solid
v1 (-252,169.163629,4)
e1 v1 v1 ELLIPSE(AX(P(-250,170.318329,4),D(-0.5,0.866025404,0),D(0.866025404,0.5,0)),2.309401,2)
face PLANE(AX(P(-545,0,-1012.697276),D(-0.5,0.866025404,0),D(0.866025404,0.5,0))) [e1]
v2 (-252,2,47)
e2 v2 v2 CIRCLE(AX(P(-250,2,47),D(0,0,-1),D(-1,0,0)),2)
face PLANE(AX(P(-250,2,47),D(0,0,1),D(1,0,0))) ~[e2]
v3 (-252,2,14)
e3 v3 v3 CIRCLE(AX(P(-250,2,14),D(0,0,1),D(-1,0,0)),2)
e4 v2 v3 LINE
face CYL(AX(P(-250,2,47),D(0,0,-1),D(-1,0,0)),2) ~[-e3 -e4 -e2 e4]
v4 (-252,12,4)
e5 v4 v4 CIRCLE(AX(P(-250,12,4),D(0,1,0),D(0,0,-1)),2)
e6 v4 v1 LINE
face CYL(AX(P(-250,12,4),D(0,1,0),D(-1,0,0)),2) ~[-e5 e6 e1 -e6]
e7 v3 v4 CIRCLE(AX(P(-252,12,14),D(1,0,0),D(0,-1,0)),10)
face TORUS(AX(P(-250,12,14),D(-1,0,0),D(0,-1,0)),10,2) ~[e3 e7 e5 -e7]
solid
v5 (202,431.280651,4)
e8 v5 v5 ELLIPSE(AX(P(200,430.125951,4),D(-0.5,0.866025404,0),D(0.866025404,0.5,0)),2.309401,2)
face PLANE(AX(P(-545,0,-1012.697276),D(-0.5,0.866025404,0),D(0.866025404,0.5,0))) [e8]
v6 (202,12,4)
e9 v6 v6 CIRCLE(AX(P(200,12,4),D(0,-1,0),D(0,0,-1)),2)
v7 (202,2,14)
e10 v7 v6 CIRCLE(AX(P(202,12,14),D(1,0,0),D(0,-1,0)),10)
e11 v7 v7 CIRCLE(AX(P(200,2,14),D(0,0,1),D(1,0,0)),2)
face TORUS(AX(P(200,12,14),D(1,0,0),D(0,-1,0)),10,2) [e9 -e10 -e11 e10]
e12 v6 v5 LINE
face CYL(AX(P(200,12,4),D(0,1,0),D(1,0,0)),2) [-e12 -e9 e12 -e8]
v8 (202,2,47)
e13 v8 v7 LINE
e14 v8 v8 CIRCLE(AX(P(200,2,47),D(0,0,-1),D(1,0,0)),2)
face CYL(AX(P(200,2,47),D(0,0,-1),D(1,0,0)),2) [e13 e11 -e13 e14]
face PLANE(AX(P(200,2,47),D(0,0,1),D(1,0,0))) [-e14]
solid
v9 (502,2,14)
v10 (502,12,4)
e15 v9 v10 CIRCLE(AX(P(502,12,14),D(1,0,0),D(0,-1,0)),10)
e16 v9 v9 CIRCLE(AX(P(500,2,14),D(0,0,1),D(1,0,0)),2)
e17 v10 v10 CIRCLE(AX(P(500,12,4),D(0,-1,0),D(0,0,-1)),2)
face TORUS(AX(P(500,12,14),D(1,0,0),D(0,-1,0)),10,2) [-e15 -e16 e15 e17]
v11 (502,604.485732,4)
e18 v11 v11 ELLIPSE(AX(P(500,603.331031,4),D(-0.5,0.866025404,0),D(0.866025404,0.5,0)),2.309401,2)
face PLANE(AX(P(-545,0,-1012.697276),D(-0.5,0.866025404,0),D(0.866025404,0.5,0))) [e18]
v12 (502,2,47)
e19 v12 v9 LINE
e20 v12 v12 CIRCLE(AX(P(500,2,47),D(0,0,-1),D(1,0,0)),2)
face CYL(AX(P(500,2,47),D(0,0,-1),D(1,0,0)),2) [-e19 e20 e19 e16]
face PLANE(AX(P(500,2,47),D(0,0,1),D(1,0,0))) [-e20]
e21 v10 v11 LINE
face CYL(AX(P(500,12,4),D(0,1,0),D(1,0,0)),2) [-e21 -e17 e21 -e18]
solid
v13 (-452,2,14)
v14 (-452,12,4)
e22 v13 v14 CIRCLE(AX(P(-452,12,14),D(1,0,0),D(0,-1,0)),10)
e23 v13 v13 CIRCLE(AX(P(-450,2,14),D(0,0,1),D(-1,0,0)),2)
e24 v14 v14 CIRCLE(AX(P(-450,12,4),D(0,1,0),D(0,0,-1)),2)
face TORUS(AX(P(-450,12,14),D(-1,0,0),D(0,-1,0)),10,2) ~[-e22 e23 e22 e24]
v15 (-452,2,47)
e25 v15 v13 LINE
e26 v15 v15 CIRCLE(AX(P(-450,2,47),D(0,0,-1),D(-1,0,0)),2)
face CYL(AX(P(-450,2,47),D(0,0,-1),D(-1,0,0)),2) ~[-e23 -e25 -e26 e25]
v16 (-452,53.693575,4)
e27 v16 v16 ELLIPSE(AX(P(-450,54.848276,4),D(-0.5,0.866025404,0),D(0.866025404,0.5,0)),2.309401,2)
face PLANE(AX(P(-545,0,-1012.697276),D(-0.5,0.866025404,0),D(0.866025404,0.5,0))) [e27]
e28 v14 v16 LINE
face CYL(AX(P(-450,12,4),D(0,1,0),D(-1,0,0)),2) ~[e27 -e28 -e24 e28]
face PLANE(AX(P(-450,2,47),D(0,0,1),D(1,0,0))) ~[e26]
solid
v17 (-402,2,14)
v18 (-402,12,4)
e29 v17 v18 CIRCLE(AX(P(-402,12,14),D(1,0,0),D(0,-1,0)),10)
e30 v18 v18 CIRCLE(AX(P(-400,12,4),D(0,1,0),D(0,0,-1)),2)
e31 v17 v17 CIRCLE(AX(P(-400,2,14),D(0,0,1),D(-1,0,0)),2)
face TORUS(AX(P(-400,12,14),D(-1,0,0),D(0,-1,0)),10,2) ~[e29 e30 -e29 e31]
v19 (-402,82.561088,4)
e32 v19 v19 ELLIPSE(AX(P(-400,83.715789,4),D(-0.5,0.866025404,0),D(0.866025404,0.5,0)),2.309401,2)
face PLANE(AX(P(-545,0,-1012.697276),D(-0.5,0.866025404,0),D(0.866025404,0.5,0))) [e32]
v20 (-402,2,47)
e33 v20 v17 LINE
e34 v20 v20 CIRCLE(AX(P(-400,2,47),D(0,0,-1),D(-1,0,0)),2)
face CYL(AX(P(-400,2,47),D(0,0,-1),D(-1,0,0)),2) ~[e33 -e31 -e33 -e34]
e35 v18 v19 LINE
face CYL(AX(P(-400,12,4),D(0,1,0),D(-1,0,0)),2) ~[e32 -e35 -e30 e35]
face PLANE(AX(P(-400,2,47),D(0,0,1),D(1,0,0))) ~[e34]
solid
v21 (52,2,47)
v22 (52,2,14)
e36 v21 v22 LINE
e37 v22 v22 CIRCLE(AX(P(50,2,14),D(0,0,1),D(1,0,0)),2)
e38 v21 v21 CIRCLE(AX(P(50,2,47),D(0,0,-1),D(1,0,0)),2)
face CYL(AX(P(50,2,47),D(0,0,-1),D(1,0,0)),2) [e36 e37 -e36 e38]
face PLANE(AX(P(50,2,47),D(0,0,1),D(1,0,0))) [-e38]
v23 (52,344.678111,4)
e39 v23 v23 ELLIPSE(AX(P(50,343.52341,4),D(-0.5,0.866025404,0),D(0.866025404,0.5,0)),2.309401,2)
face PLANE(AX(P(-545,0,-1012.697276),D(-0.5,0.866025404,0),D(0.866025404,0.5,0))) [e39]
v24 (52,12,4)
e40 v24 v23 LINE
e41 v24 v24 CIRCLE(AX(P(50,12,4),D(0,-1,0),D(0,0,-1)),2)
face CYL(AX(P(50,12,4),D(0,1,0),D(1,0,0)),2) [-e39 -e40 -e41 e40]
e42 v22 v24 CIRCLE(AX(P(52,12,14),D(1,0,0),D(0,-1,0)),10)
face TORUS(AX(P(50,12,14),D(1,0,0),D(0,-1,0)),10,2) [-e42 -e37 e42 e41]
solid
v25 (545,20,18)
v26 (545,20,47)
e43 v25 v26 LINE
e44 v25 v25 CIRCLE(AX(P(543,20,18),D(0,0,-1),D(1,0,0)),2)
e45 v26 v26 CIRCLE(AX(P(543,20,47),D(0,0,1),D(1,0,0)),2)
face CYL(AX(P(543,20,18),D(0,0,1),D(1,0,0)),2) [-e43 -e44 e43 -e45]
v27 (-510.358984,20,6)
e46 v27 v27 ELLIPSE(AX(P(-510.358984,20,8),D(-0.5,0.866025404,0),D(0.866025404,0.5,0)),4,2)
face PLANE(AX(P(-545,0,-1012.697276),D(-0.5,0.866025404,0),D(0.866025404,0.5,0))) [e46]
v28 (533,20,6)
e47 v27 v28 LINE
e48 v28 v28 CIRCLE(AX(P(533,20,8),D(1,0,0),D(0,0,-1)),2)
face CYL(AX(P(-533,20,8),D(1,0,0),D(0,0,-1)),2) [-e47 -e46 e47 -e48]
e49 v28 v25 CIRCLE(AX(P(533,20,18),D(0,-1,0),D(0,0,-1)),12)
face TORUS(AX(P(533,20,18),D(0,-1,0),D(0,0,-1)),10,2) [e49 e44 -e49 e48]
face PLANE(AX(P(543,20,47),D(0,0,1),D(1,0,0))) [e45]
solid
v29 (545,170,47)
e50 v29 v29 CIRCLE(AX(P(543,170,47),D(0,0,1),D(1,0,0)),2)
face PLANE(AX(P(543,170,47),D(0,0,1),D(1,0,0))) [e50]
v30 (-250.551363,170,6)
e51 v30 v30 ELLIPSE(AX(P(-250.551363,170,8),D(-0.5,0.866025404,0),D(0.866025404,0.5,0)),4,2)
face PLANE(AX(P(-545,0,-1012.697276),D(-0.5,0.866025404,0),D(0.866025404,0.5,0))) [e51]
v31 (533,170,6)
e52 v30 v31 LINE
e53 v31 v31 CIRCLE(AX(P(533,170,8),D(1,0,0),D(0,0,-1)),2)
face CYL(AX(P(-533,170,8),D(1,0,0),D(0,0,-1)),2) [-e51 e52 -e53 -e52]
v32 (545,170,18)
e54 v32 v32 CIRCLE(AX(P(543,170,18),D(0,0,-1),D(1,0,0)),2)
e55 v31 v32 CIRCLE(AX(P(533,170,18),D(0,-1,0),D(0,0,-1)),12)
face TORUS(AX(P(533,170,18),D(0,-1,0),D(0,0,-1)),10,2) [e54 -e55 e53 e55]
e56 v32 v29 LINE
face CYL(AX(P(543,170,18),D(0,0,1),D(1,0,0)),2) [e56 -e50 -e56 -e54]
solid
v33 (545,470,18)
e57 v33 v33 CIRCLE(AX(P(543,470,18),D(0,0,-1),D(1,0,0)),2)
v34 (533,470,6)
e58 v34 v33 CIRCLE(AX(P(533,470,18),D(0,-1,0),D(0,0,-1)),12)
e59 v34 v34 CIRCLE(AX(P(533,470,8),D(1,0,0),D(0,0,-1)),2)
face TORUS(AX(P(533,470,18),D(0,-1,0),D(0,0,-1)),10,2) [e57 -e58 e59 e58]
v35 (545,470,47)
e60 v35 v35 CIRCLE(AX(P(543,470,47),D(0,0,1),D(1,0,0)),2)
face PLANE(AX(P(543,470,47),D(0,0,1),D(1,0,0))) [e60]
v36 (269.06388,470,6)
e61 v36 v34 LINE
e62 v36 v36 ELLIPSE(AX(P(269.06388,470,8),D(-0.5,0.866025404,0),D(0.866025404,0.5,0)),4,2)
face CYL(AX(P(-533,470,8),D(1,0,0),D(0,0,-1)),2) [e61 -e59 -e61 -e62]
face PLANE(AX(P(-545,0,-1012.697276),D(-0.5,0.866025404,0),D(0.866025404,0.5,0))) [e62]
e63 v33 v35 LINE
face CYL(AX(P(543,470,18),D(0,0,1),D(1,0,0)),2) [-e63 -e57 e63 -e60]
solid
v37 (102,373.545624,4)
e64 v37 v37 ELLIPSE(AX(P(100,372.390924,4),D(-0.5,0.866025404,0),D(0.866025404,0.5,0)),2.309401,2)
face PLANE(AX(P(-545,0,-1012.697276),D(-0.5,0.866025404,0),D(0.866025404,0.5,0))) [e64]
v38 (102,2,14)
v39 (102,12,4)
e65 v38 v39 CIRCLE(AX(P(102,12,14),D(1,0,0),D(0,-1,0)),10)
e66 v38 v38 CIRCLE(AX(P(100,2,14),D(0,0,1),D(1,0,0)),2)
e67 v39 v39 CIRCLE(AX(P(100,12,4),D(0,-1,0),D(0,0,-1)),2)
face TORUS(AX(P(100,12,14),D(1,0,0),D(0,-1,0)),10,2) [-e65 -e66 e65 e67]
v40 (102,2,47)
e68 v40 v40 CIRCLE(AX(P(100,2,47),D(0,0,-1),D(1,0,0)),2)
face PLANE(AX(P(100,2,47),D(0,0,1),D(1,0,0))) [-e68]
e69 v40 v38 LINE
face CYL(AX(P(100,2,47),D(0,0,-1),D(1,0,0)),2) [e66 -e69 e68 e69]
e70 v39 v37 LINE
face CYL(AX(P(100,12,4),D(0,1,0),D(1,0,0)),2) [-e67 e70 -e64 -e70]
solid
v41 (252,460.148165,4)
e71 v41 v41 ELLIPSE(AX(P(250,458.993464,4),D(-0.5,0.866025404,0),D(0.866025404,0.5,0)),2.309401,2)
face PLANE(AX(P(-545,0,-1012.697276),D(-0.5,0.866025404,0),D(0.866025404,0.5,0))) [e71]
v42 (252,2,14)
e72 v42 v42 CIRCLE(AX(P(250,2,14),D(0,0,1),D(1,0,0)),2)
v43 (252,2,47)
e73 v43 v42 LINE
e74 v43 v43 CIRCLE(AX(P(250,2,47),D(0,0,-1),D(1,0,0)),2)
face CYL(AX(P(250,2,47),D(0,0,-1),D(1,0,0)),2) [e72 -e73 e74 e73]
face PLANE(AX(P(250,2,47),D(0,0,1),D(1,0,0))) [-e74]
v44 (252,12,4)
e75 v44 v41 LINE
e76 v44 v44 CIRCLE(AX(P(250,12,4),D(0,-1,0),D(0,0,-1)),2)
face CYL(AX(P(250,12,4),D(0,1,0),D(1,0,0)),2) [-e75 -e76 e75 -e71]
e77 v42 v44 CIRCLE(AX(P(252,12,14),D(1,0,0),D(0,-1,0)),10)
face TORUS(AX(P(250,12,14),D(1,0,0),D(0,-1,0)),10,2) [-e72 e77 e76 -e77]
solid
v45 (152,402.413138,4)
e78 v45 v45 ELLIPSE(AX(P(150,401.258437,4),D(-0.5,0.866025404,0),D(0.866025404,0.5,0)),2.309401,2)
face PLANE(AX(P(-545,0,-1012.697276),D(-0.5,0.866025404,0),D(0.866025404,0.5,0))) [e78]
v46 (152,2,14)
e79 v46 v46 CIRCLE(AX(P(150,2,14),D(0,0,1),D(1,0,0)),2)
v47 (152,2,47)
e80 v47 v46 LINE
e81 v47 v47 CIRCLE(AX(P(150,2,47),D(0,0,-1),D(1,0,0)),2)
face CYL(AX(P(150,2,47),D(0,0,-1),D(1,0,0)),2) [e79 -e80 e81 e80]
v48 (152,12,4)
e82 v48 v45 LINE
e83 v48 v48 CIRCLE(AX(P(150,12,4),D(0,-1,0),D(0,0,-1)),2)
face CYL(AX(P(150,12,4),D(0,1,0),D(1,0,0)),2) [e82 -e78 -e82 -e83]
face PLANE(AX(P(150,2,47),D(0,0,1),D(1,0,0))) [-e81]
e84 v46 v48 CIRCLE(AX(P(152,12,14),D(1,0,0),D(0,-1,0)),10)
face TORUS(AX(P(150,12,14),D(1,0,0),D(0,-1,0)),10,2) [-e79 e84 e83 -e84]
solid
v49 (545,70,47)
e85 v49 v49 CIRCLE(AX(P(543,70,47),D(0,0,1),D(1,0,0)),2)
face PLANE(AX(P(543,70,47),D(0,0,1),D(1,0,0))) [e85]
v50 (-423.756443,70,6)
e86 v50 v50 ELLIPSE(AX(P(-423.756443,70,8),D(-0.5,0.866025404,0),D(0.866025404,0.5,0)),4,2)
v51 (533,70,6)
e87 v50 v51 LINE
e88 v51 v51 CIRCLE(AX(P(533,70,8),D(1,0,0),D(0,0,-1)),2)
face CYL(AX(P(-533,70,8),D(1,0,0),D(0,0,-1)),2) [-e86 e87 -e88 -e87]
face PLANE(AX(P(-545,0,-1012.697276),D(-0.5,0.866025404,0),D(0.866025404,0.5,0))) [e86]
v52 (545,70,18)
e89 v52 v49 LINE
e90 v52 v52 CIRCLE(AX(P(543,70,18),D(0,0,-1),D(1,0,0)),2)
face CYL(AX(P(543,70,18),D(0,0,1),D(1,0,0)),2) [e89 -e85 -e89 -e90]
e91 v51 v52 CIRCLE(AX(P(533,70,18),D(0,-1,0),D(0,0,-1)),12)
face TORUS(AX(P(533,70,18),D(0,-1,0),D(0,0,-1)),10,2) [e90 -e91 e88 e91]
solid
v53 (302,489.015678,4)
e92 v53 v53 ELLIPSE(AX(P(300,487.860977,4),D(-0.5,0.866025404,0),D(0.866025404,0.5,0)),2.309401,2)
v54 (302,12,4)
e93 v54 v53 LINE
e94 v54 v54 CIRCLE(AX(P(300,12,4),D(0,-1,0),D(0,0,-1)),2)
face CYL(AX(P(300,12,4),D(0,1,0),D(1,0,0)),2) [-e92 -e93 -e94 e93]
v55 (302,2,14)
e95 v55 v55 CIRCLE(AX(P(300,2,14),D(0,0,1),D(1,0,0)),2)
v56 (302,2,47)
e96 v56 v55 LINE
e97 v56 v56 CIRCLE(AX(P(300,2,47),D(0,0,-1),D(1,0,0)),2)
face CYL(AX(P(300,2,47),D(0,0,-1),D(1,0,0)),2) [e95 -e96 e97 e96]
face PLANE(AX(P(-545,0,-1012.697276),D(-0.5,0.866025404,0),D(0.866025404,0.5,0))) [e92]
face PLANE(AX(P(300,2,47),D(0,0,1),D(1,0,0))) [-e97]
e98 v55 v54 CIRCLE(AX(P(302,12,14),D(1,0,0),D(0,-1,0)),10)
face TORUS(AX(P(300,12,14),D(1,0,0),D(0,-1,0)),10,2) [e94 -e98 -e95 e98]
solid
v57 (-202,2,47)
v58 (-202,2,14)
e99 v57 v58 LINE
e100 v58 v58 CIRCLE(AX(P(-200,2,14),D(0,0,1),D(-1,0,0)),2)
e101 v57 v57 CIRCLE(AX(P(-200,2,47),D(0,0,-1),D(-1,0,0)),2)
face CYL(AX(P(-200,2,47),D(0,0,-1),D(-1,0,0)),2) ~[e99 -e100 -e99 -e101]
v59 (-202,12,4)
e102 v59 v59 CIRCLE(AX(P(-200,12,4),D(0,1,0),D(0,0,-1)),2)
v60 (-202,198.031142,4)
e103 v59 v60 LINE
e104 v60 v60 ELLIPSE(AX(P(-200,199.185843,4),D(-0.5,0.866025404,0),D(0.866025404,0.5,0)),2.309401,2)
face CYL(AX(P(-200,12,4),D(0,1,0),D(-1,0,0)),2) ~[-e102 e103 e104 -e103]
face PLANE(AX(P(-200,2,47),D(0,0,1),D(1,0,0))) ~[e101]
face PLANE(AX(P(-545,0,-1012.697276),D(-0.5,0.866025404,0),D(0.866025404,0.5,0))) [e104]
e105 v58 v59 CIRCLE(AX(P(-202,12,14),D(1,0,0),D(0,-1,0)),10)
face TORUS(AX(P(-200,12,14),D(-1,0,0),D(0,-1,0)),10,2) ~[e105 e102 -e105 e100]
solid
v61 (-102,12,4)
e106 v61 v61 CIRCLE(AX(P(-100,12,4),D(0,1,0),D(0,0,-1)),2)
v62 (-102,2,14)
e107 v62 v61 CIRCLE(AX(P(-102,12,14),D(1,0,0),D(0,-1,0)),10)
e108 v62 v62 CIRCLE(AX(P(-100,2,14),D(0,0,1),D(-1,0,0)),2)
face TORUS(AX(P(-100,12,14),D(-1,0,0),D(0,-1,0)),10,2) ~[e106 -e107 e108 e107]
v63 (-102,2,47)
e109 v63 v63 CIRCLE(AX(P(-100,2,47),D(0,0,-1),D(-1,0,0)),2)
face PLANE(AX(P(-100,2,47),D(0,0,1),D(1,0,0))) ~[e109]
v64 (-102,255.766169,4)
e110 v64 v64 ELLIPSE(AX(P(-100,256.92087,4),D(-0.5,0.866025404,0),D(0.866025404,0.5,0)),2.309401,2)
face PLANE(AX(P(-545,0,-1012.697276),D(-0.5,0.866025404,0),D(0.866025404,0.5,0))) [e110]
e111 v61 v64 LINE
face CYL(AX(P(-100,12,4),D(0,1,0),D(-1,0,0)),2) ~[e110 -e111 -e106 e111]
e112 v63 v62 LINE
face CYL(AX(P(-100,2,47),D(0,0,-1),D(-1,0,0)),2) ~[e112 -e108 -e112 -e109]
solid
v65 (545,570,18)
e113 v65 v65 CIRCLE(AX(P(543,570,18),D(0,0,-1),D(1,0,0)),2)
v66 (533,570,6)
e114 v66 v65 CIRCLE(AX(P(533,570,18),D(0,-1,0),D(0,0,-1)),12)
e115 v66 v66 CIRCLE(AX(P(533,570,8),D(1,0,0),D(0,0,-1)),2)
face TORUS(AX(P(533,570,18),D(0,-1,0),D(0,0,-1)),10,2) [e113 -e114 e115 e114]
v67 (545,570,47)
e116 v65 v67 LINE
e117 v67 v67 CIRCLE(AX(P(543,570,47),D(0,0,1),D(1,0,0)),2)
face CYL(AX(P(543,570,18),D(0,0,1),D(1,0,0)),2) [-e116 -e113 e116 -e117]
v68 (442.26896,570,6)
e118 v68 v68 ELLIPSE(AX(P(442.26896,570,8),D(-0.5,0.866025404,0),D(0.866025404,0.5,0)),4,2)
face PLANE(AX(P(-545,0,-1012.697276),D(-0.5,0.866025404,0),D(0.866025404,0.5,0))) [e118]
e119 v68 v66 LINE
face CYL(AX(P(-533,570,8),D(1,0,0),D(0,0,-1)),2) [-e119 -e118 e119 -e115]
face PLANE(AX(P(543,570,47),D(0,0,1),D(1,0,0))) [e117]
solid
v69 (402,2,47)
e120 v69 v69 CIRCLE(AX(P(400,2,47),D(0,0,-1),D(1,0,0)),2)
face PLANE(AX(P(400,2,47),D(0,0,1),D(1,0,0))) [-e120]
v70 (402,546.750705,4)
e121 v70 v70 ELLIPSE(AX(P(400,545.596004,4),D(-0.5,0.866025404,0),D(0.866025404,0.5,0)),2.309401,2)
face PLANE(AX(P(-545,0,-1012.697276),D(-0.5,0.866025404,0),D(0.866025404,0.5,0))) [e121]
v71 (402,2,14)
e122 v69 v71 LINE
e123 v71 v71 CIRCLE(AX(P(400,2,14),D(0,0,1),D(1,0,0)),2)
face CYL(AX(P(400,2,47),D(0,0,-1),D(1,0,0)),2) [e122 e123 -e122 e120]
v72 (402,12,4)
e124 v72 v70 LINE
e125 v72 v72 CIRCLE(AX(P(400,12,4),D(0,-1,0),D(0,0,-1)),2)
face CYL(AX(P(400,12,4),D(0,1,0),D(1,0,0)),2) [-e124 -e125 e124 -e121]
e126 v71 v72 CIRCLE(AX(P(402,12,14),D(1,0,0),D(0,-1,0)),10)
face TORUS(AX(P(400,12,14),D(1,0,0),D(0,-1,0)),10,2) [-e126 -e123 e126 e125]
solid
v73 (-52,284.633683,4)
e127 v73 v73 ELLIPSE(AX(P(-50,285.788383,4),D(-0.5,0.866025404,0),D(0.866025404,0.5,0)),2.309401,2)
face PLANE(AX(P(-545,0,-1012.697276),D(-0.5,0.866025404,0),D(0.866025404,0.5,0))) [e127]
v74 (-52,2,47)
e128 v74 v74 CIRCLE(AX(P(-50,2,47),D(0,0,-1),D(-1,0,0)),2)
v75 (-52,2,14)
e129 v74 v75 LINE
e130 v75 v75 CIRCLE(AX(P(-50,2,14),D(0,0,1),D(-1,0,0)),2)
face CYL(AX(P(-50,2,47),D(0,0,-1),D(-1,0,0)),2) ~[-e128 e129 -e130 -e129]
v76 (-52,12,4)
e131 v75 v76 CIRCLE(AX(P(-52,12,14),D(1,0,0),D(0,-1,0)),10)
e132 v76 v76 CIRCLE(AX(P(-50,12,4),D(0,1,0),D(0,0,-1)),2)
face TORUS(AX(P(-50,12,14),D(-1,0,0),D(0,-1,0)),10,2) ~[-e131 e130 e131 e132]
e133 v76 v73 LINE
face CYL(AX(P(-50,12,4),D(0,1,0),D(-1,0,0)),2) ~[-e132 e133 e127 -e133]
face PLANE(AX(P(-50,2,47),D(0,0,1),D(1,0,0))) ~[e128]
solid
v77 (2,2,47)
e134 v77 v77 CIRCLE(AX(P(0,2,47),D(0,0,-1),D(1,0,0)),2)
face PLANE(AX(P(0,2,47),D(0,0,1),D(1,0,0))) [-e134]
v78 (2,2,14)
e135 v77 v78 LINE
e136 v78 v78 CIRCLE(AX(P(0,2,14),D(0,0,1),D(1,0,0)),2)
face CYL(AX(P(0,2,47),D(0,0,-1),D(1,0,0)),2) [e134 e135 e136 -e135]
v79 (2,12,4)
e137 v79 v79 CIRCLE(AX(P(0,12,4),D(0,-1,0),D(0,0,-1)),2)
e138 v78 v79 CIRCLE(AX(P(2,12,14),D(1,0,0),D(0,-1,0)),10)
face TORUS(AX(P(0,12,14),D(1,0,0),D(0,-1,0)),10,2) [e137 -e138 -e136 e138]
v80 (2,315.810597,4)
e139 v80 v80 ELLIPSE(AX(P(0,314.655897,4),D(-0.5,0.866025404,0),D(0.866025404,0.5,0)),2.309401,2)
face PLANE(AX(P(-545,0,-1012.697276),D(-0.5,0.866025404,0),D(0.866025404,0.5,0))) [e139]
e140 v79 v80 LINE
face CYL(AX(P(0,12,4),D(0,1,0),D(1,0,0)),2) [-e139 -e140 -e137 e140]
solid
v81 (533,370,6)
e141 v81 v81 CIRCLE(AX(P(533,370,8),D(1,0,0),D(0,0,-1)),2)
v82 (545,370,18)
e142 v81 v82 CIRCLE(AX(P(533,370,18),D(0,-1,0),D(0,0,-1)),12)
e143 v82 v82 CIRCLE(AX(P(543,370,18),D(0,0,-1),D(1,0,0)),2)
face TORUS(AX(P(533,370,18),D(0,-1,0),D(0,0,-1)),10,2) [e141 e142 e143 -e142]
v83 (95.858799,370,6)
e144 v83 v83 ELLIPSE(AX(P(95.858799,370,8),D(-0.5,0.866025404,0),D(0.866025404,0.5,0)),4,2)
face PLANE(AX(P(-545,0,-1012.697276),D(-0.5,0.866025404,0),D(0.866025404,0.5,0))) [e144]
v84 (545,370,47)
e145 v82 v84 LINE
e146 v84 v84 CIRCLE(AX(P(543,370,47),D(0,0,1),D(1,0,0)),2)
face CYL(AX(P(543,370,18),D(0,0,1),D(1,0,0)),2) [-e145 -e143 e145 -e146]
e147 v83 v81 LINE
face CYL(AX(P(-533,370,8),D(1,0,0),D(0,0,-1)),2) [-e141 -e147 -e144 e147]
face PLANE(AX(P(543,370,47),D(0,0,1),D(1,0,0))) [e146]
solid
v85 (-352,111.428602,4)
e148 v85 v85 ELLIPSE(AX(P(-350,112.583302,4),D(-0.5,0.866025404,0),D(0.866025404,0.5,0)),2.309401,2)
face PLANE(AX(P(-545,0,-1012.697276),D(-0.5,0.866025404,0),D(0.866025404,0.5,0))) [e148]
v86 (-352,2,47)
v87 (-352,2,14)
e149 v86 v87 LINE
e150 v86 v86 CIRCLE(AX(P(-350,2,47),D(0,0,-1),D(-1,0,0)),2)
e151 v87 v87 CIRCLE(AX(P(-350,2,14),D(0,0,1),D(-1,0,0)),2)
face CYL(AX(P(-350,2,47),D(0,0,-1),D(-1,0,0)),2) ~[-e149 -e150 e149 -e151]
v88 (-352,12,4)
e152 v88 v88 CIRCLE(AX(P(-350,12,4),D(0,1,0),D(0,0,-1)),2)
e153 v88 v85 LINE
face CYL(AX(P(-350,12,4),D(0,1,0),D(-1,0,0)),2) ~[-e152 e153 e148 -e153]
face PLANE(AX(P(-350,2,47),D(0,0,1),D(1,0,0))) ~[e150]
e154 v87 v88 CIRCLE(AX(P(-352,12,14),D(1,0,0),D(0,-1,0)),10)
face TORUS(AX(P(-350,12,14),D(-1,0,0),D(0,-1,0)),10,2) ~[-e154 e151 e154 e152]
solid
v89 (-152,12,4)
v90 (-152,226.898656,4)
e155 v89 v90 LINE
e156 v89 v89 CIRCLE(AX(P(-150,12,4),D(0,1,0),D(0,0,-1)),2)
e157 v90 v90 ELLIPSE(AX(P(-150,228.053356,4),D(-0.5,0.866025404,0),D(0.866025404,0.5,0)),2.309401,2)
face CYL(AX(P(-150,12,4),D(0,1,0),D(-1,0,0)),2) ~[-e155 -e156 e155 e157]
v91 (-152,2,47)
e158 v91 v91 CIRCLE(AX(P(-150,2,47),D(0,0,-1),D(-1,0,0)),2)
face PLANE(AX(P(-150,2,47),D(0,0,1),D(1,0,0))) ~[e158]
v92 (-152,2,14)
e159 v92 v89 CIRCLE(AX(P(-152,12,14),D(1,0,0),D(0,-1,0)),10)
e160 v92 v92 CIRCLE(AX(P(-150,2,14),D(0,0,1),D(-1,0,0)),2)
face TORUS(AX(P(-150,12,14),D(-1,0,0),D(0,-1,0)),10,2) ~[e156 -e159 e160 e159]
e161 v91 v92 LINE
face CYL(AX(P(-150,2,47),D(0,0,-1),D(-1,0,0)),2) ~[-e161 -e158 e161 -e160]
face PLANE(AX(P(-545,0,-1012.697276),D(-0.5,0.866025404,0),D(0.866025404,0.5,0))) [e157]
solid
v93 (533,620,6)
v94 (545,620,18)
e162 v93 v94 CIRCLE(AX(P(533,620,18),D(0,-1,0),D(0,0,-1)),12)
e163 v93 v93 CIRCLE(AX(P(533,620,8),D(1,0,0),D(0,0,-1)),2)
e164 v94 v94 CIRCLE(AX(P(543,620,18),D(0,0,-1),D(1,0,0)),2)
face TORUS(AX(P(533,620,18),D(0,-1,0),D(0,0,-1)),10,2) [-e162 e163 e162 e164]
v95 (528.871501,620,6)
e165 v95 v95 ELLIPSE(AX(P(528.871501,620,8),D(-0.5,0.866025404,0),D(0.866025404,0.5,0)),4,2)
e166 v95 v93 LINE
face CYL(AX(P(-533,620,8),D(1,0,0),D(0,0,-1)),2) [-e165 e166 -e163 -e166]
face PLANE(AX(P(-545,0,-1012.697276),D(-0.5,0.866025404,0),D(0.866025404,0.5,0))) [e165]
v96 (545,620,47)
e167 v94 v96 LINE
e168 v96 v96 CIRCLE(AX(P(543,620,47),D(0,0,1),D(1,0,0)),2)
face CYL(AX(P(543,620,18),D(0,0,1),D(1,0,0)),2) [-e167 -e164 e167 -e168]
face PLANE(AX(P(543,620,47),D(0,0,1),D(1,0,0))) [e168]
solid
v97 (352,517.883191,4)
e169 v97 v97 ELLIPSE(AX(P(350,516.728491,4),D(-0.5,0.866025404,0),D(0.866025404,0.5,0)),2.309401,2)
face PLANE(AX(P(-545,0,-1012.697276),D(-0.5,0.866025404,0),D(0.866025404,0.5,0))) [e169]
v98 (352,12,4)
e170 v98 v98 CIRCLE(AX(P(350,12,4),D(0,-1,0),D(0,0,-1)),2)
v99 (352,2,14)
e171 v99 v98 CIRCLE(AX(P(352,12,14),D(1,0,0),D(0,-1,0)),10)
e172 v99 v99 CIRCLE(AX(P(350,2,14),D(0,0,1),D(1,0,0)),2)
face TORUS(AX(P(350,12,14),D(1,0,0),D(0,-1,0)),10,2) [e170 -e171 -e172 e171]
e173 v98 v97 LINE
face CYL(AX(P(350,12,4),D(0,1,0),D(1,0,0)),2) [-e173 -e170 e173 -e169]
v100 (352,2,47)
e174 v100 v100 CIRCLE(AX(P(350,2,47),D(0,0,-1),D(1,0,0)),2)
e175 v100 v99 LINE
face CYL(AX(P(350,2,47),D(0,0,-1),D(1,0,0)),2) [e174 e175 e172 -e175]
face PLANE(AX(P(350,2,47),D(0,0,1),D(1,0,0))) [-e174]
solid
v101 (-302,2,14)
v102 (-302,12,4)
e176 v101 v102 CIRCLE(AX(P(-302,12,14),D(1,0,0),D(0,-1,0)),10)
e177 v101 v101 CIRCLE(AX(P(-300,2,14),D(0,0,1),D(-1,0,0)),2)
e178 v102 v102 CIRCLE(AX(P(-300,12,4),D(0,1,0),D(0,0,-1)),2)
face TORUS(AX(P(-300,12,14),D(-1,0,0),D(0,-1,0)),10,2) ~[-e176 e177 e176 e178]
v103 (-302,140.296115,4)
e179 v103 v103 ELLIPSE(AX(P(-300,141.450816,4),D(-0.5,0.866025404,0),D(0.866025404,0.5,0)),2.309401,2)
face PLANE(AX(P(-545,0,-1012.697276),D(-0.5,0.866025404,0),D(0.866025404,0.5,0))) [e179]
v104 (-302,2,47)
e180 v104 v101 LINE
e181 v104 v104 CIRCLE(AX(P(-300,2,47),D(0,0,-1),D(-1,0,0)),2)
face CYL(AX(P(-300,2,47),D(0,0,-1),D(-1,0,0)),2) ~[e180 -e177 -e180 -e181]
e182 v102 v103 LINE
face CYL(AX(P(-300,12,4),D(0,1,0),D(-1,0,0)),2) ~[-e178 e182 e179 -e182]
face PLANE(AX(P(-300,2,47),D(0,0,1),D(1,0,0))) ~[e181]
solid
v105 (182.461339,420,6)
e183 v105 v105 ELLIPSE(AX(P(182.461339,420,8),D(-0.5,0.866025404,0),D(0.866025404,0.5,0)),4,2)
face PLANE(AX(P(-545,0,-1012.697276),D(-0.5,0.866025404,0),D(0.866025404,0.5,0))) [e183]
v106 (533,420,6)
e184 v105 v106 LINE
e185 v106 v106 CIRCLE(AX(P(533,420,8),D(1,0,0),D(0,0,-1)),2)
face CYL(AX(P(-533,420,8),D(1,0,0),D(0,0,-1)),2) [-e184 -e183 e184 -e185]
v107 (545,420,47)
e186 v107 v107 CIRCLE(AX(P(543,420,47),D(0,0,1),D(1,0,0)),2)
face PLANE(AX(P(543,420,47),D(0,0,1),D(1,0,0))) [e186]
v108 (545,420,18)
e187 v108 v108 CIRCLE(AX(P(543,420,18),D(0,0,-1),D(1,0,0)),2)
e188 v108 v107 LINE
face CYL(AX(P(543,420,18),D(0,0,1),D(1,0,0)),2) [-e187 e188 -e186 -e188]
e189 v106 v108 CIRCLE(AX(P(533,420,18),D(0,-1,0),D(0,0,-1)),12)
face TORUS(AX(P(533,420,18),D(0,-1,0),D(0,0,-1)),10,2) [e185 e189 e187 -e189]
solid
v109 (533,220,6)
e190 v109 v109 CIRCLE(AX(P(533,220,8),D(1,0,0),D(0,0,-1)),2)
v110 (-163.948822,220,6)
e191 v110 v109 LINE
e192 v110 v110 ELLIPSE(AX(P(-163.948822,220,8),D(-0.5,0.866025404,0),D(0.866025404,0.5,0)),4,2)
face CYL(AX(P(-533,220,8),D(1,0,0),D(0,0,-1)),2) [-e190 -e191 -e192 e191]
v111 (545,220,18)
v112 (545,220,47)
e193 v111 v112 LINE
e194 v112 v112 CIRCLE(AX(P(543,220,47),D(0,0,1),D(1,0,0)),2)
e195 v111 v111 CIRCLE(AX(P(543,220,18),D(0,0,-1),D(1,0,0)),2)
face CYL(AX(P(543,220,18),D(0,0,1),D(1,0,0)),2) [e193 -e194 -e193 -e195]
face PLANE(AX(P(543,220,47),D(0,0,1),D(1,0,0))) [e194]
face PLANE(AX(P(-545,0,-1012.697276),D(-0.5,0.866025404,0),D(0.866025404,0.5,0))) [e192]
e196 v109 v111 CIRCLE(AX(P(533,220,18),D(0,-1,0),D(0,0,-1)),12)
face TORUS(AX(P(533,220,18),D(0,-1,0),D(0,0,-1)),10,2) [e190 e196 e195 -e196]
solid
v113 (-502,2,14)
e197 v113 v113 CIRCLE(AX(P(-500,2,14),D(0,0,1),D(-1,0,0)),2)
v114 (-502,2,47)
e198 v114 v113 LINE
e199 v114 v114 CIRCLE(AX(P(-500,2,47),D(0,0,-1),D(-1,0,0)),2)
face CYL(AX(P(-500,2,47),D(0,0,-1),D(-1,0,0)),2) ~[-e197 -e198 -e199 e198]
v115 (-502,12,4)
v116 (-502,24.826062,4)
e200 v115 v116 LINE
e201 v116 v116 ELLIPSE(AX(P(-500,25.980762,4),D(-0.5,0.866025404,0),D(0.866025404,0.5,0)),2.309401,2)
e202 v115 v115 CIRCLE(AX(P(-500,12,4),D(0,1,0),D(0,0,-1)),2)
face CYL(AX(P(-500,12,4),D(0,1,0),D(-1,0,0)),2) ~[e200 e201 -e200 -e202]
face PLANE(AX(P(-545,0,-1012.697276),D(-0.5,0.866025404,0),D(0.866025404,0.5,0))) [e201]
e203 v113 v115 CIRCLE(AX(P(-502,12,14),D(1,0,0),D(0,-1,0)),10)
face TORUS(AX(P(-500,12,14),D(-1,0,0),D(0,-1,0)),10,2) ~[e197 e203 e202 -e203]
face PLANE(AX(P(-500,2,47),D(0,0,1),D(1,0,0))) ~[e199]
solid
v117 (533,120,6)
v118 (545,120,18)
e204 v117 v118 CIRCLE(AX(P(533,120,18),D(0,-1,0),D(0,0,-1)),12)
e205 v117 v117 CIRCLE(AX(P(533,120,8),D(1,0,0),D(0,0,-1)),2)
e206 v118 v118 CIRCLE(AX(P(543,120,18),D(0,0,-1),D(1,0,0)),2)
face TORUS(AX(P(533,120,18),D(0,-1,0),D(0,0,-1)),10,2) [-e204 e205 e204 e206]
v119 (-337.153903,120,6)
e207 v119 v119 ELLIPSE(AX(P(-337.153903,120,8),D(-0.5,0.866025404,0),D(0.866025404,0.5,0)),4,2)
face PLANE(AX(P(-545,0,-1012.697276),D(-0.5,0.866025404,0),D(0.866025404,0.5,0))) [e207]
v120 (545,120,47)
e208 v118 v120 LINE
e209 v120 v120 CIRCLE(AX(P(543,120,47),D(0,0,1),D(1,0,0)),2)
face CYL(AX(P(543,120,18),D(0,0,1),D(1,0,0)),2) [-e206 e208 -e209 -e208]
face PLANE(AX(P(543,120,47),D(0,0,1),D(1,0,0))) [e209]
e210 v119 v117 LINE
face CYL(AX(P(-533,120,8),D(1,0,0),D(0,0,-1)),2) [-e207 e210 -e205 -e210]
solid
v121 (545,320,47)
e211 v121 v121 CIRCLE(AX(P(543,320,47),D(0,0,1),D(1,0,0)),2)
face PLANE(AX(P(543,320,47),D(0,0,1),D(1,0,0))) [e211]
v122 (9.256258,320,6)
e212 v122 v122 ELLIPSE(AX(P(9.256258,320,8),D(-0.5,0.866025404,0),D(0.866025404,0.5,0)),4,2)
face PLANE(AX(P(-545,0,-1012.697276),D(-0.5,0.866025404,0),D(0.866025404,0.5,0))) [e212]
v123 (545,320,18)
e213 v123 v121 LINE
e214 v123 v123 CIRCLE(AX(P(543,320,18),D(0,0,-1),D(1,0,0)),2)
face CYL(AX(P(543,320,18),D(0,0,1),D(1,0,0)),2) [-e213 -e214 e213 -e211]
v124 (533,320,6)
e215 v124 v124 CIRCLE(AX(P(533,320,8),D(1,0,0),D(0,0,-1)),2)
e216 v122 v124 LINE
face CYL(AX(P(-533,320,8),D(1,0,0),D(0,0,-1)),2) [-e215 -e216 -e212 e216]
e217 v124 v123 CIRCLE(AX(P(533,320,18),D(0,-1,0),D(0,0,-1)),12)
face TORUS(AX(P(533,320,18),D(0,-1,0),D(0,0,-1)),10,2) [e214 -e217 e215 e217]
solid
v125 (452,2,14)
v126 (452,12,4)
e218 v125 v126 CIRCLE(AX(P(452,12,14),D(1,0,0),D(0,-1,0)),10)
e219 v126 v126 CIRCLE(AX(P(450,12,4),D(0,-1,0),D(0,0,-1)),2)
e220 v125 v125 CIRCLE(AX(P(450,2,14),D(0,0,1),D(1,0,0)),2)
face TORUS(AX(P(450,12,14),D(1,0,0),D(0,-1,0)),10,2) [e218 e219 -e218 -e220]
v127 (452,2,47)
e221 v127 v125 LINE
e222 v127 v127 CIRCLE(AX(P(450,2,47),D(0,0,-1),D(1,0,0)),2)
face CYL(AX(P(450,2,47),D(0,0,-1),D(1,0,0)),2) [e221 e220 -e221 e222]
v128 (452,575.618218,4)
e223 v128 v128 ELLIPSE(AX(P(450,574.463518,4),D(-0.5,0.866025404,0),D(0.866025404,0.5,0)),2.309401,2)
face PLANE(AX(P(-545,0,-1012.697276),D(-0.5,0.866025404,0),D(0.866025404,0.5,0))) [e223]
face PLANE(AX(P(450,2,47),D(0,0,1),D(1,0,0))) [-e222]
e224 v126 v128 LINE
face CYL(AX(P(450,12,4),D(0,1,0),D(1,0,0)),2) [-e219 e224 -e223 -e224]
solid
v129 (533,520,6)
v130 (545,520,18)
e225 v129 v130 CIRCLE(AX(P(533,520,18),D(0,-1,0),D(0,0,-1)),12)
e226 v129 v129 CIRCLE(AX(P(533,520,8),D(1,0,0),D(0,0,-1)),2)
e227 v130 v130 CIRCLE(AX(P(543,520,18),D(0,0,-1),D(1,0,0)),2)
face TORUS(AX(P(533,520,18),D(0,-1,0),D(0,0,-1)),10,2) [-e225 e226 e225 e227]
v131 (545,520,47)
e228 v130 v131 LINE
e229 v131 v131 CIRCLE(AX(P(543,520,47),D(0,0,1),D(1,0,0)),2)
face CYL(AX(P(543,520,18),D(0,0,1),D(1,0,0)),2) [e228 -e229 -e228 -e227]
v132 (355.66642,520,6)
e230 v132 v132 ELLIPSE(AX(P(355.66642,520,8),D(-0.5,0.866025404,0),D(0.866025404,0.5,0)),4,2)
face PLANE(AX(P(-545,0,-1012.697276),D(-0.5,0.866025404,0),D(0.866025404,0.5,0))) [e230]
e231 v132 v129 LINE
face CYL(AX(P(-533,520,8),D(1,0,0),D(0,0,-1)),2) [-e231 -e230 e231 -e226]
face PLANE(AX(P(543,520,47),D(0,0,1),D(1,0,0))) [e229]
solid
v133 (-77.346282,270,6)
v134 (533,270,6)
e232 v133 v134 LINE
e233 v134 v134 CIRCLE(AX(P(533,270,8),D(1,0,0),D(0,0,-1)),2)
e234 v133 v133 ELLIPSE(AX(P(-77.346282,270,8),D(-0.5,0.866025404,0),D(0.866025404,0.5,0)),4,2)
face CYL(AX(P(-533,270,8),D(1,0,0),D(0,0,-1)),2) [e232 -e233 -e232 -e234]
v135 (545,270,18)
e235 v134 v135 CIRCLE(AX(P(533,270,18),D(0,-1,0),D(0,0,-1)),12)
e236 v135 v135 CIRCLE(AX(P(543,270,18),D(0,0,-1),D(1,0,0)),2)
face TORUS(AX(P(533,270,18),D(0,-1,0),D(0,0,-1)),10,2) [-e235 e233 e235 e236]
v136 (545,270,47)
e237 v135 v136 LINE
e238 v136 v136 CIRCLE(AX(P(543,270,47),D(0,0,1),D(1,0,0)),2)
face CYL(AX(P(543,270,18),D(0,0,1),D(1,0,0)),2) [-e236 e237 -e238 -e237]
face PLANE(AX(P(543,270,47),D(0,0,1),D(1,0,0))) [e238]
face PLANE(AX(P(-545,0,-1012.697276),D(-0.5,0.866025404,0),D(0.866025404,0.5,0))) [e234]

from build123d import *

# Parameters (mm, degrees)
SKETCH_1_R               = 2
PATTERN_LINEAR_1_COUNT   = 11
PATTERN_LINEAR_1_PITCH   = 50
SKETCH_4_R               = 2
PATTERN_LINEAR_2_COUNT   = 17
PATTERN_LINEAR_2_PITCH   = 50
CUT_EXTRUDE_1_DEPTH      = 1012.697275829
CUT_EXTRUDE_1_DEPTH_BACK = 1012.697275829
SKETCH_5_OUTSIDE_W       = 1368.726
SKETCH_5_OUTSIDE_H       = 1129.783


with BuildPart() as part:
    # По траектории1: sweep along a path in Эскиз2
    with BuildLine(Plane(origin=(0, 0, 0), x_dir=(0, 0, -1), z_dir=(1, 0, 0))) as sweep_1_path:
        Line((-47, 2), (-14, 2))
        ThreePointArc((-14, 2), (-6.928932188, 4.928932188), (-4, 12))
        Line((-4, 12), (-4, 851.056624327))
    # Эскиз1 → По траектории1 (sweep)
    with BuildSketch(Plane.XY.offset(47)):
        with Locations((0, 2)):
            Circle(SKETCH_1_R)
    sweep(path=sweep_1_path.line)


with BuildPart() as pattern_linear_1_1:
    # Линейный массив1: pattern copy
    add(part.part.moved(Location(Vector(1, 0, 0) * (1 * PATTERN_LINEAR_1_PITCH))))


with BuildPart() as pattern_linear_1_2:
    # Линейный массив1: pattern copy
    add(part.part.moved(Location(Vector(1, 0, 0) * (2 * PATTERN_LINEAR_1_PITCH))))


with BuildPart() as pattern_linear_1_3:
    # Линейный массив1: pattern copy
    add(part.part.moved(Location(Vector(1, 0, 0) * (3 * PATTERN_LINEAR_1_PITCH))))


with BuildPart() as pattern_linear_1_4:
    # Линейный массив1: pattern copy
    add(part.part.moved(Location(Vector(1, 0, 0) * (4 * PATTERN_LINEAR_1_PITCH))))


with BuildPart() as pattern_linear_1_5:
    # Линейный массив1: pattern copy
    add(part.part.moved(Location(Vector(1, 0, 0) * (5 * PATTERN_LINEAR_1_PITCH))))


with BuildPart() as pattern_linear_1_6:
    # Линейный массив1: pattern copy
    add(part.part.moved(Location(Vector(1, 0, 0) * (6 * PATTERN_LINEAR_1_PITCH))))


with BuildPart() as pattern_linear_1_7:
    # Линейный массив1: pattern copy
    add(part.part.moved(Location(Vector(1, 0, 0) * (7 * PATTERN_LINEAR_1_PITCH))))


with BuildPart() as pattern_linear_1_8:
    # Линейный массив1: pattern copy
    add(part.part.moved(Location(Vector(1, 0, 0) * (8 * PATTERN_LINEAR_1_PITCH))))


with BuildPart() as pattern_linear_1_9:
    # Линейный массив1: pattern copy
    add(part.part.moved(Location(Vector(1, 0, 0) * (9 * PATTERN_LINEAR_1_PITCH))))


with BuildPart() as pattern_linear_1_10:
    # Линейный массив1: pattern copy
    add(part.part.moved(Location(Vector(1, 0, 0) * (10 * PATTERN_LINEAR_1_PITCH))))


with BuildPart() as body_12:
    # Зеркальное отражение1: mirrored copy
    add(pattern_linear_1_10.part.mirror(Plane(origin=(0, 0, 0), x_dir=(0, 0, 1), z_dir=(1, 0, 0))))


with BuildPart() as body_13:
    # Mirror 1 2: mirrored copy
    add(pattern_linear_1_9.part.mirror(Plane(origin=(0, 0, 0), x_dir=(0, 0, 1), z_dir=(1, 0, 0))))


with BuildPart() as body_14:
    # Mirror 1 3: mirrored copy
    add(pattern_linear_1_8.part.mirror(Plane(origin=(0, 0, 0), x_dir=(0, 0, 1), z_dir=(1, 0, 0))))


with BuildPart() as body_15:
    # Mirror 1 4: mirrored copy
    add(pattern_linear_1_7.part.mirror(Plane(origin=(0, 0, 0), x_dir=(0, 0, 1), z_dir=(1, 0, 0))))


with BuildPart() as body_16:
    # Mirror 1 5: mirrored copy
    add(pattern_linear_1_6.part.mirror(Plane(origin=(0, 0, 0), x_dir=(0, 0, 1), z_dir=(1, 0, 0))))


with BuildPart() as body_17:
    # Mirror 1 6: mirrored copy
    add(pattern_linear_1_5.part.mirror(Plane(origin=(0, 0, 0), x_dir=(0, 0, 1), z_dir=(1, 0, 0))))


with BuildPart() as body_18:
    # Mirror 1 7: mirrored copy
    add(pattern_linear_1_4.part.mirror(Plane(origin=(0, 0, 0), x_dir=(0, 0, 1), z_dir=(1, 0, 0))))


with BuildPart() as body_19:
    # Mirror 1 8: mirrored copy
    add(pattern_linear_1_3.part.mirror(Plane(origin=(0, 0, 0), x_dir=(0, 0, 1), z_dir=(1, 0, 0))))


with BuildPart() as body_20:
    # Mirror 1 9: mirrored copy
    add(pattern_linear_1_2.part.mirror(Plane(origin=(0, 0, 0), x_dir=(0, 0, 1), z_dir=(1, 0, 0))))


with BuildPart() as body_21:
    # Mirror 1 10: mirrored copy
    add(pattern_linear_1_1.part.mirror(Plane(origin=(0, 0, 0), x_dir=(0, 0, 1), z_dir=(1, 0, 0))))


with BuildPart() as body_22:
    # По траектории2: sweep along a path in Эскиз3
    with BuildLine(Plane(origin=(0, 20, 0), x_dir=(1, 0, 0), z_dir=(0, 1, 0))) as sweep_2_path:
        Line((-543, -47), (-543, -18))
        ThreePointArc((-543, -18), (-540.071067812, -10.928932188), (-533, -8))
        Line((-533, -8), (533, -8))
        ThreePointArc((533, -8), (540.071067812, -10.928932188), (543, -18))
        Line((543, -18), (543, -47))
    # Эскиз4 → По траектории2 (sweep)
    with BuildSketch(Plane.XY.offset(47)):
        with Locations((543, 20)):
            Circle(SKETCH_4_R)
    sweep(path=sweep_2_path.line)


with BuildPart() as pattern_linear_2_1:
    # Линейный массив2: pattern copy
    add(body_22.part.moved(Location(Vector(0, 1, 0) * (1 * PATTERN_LINEAR_2_PITCH))))


with BuildPart() as pattern_linear_2_2:
    # Линейный массив2: pattern copy
    add(body_22.part.moved(Location(Vector(0, 1, 0) * (2 * PATTERN_LINEAR_2_PITCH))))


with BuildPart() as pattern_linear_2_3:
    # Линейный массив2: pattern copy
    add(body_22.part.moved(Location(Vector(0, 1, 0) * (3 * PATTERN_LINEAR_2_PITCH))))


with BuildPart() as pattern_linear_2_4:
    # Линейный массив2: pattern copy
    add(body_22.part.moved(Location(Vector(0, 1, 0) * (4 * PATTERN_LINEAR_2_PITCH))))


with BuildPart() as pattern_linear_2_5:
    # Линейный массив2: pattern copy
    add(body_22.part.moved(Location(Vector(0, 1, 0) * (5 * PATTERN_LINEAR_2_PITCH))))


with BuildPart() as pattern_linear_2_6:
    # Линейный массив2: pattern copy
    add(body_22.part.moved(Location(Vector(0, 1, 0) * (6 * PATTERN_LINEAR_2_PITCH))))


with BuildPart() as pattern_linear_2_7:
    # Линейный массив2: pattern copy
    add(body_22.part.moved(Location(Vector(0, 1, 0) * (7 * PATTERN_LINEAR_2_PITCH))))


with BuildPart() as pattern_linear_2_8:
    # Линейный массив2: pattern copy
    add(body_22.part.moved(Location(Vector(0, 1, 0) * (8 * PATTERN_LINEAR_2_PITCH))))


with BuildPart() as pattern_linear_2_9:
    # Линейный массив2: pattern copy
    add(body_22.part.moved(Location(Vector(0, 1, 0) * (9 * PATTERN_LINEAR_2_PITCH))))


with BuildPart() as pattern_linear_2_10:
    # Линейный массив2: pattern copy
    add(body_22.part.moved(Location(Vector(0, 1, 0) * (10 * PATTERN_LINEAR_2_PITCH))))


with BuildPart() as pattern_linear_2_11:
    # Линейный массив2: pattern copy
    add(body_22.part.moved(Location(Vector(0, 1, 0) * (11 * PATTERN_LINEAR_2_PITCH))))


with BuildPart() as pattern_linear_2_12:
    # Линейный массив2: pattern copy
    add(body_22.part.moved(Location(Vector(0, 1, 0) * (12 * PATTERN_LINEAR_2_PITCH))))


with BuildPart() as pattern_linear_2_13:
    # Линейный массив2: pattern copy
    add(body_22.part.moved(Location(Vector(0, 1, 0) * (13 * PATTERN_LINEAR_2_PITCH))))


with BuildPart() as pattern_linear_2_14:
    # Линейный массив2: pattern copy
    add(body_22.part.moved(Location(Vector(0, 1, 0) * (14 * PATTERN_LINEAR_2_PITCH))))


with BuildPart() as pattern_linear_2_15:
    # Линейный массив2: pattern copy
    add(body_22.part.moved(Location(Vector(0, 1, 0) * (15 * PATTERN_LINEAR_2_PITCH))))


with BuildPart() as pattern_linear_2_16:
    # Линейный массив2: pattern copy
    add(body_22.part.moved(Location(Vector(0, 1, 0) * (16 * PATTERN_LINEAR_2_PITCH))))


with BuildPart() as cut_extrude_1_tool:
    # Эскиз5 outside → Вырез-Вытянуть1 (new, two sides: drawn at the far end of the back side and taken through both)
    with BuildSketch(Plane.XY.offset(-CUT_EXTRUDE_1_DEPTH_BACK)):
        with Locations((0, 425.5285)):
            Rectangle(SKETCH_5_OUTSIDE_W, SKETCH_5_OUTSIDE_H)
        Polygon((545, 629.311793417), (545, 0), (-545, 0), align=None, mode=Mode.SUBTRACT)
    extrude(amount=CUT_EXTRUDE_1_DEPTH + CUT_EXTRUDE_1_DEPTH_BACK)


with BuildPart() as part_1:
    add(part.part)

    # Вырез-Вытянуть1: cut by cut_extrude_1_tool
    add(cut_extrude_1_tool.part, mode=Mode.SUBTRACT)


with BuildPart() as pattern_linear_1_1_1:
    add(pattern_linear_1_1.part)

    # Вырез-Вытянуть1: cut by cut_extrude_1_tool
    add(cut_extrude_1_tool.part, mode=Mode.SUBTRACT)


with BuildPart() as pattern_linear_1_2_1:
    add(pattern_linear_1_2.part)

    # Вырез-Вытянуть1: cut by cut_extrude_1_tool
    add(cut_extrude_1_tool.part, mode=Mode.SUBTRACT)


with BuildPart() as pattern_linear_1_3_1:
    add(pattern_linear_1_3.part)

    # Вырез-Вытянуть1: cut by cut_extrude_1_tool
    add(cut_extrude_1_tool.part, mode=Mode.SUBTRACT)


with BuildPart() as pattern_linear_1_4_1:
    add(pattern_linear_1_4.part)

    # Вырез-Вытянуть1: cut by cut_extrude_1_tool
    add(cut_extrude_1_tool.part, mode=Mode.SUBTRACT)


with BuildPart() as pattern_linear_1_5_1:
    add(pattern_linear_1_5.part)

    # Вырез-Вытянуть1: cut by cut_extrude_1_tool
    add(cut_extrude_1_tool.part, mode=Mode.SUBTRACT)


with BuildPart() as pattern_linear_1_6_1:
    add(pattern_linear_1_6.part)

    # Вырез-Вытянуть1: cut by cut_extrude_1_tool
    add(cut_extrude_1_tool.part, mode=Mode.SUBTRACT)


with BuildPart() as pattern_linear_1_7_1:
    add(pattern_linear_1_7.part)

    # Вырез-Вытянуть1: cut by cut_extrude_1_tool
    add(cut_extrude_1_tool.part, mode=Mode.SUBTRACT)


with BuildPart() as pattern_linear_1_8_1:
    add(pattern_linear_1_8.part)

    # Вырез-Вытянуть1: cut by cut_extrude_1_tool
    add(cut_extrude_1_tool.part, mode=Mode.SUBTRACT)


with BuildPart() as pattern_linear_1_9_1:
    add(pattern_linear_1_9.part)

    # Вырез-Вытянуть1: cut by cut_extrude_1_tool
    add(cut_extrude_1_tool.part, mode=Mode.SUBTRACT)


with BuildPart() as pattern_linear_1_10_1:
    add(pattern_linear_1_10.part)

    # Вырез-Вытянуть1: cut by cut_extrude_1_tool
    add(cut_extrude_1_tool.part, mode=Mode.SUBTRACT)


with BuildPart() as body_12_1:
    add(body_12.part)

    # Вырез-Вытянуть1: cut by cut_extrude_1_tool
    add(cut_extrude_1_tool.part, mode=Mode.SUBTRACT)


with BuildPart() as body_13_1:
    add(body_13.part)

    # Вырез-Вытянуть1: cut by cut_extrude_1_tool
    add(cut_extrude_1_tool.part, mode=Mode.SUBTRACT)


with BuildPart() as body_14_1:
    add(body_14.part)

    # Вырез-Вытянуть1: cut by cut_extrude_1_tool
    add(cut_extrude_1_tool.part, mode=Mode.SUBTRACT)


with BuildPart() as body_15_1:
    add(body_15.part)

    # Вырез-Вытянуть1: cut by cut_extrude_1_tool
    add(cut_extrude_1_tool.part, mode=Mode.SUBTRACT)


with BuildPart() as body_16_1:
    add(body_16.part)

    # Вырез-Вытянуть1: cut by cut_extrude_1_tool
    add(cut_extrude_1_tool.part, mode=Mode.SUBTRACT)


with BuildPart() as body_17_1:
    add(body_17.part)

    # Вырез-Вытянуть1: cut by cut_extrude_1_tool
    add(cut_extrude_1_tool.part, mode=Mode.SUBTRACT)


with BuildPart() as body_18_1:
    add(body_18.part)

    # Вырез-Вытянуть1: cut by cut_extrude_1_tool
    add(cut_extrude_1_tool.part, mode=Mode.SUBTRACT)


with BuildPart() as body_19_1:
    add(body_19.part)

    # Вырез-Вытянуть1: cut by cut_extrude_1_tool
    add(cut_extrude_1_tool.part, mode=Mode.SUBTRACT)


with BuildPart() as body_20_1:
    add(body_20.part)

    # Вырез-Вытянуть1: cut by cut_extrude_1_tool
    add(cut_extrude_1_tool.part, mode=Mode.SUBTRACT)


with BuildPart() as body_21_1:
    add(body_21.part)

    # Вырез-Вытянуть1: cut by cut_extrude_1_tool
    add(cut_extrude_1_tool.part, mode=Mode.SUBTRACT)


with BuildPart() as body_22_1:
    add(body_22.part)

    # Вырез-Вытянуть1: cut by cut_extrude_1_tool
    add(cut_extrude_1_tool.part, mode=Mode.SUBTRACT)


with BuildPart() as pattern_linear_2_1_1:
    add(pattern_linear_2_1.part)

    # Вырез-Вытянуть1: cut by cut_extrude_1_tool
    add(cut_extrude_1_tool.part, mode=Mode.SUBTRACT)


with BuildPart() as pattern_linear_2_2_1:
    add(pattern_linear_2_2.part)

    # Вырез-Вытянуть1: cut by cut_extrude_1_tool
    add(cut_extrude_1_tool.part, mode=Mode.SUBTRACT)


with BuildPart() as pattern_linear_2_3_1:
    add(pattern_linear_2_3.part)

    # Вырез-Вытянуть1: cut by cut_extrude_1_tool
    add(cut_extrude_1_tool.part, mode=Mode.SUBTRACT)


with BuildPart() as pattern_linear_2_4_1:
    add(pattern_linear_2_4.part)

    # Вырез-Вытянуть1: cut by cut_extrude_1_tool
    add(cut_extrude_1_tool.part, mode=Mode.SUBTRACT)


with BuildPart() as pattern_linear_2_5_1:
    add(pattern_linear_2_5.part)

    # Вырез-Вытянуть1: cut by cut_extrude_1_tool
    add(cut_extrude_1_tool.part, mode=Mode.SUBTRACT)


with BuildPart() as pattern_linear_2_6_1:
    add(pattern_linear_2_6.part)

    # Вырез-Вытянуть1: cut by cut_extrude_1_tool
    add(cut_extrude_1_tool.part, mode=Mode.SUBTRACT)


with BuildPart() as pattern_linear_2_7_1:
    add(pattern_linear_2_7.part)

    # Вырез-Вытянуть1: cut by cut_extrude_1_tool
    add(cut_extrude_1_tool.part, mode=Mode.SUBTRACT)


with BuildPart() as pattern_linear_2_8_1:
    add(pattern_linear_2_8.part)

    # Вырез-Вытянуть1: cut by cut_extrude_1_tool
    add(cut_extrude_1_tool.part, mode=Mode.SUBTRACT)


with BuildPart() as pattern_linear_2_9_1:
    add(pattern_linear_2_9.part)

    # Вырез-Вытянуть1: cut by cut_extrude_1_tool
    add(cut_extrude_1_tool.part, mode=Mode.SUBTRACT)


with BuildPart() as pattern_linear_2_10_1:
    add(pattern_linear_2_10.part)

    # Вырез-Вытянуть1: cut by cut_extrude_1_tool
    add(cut_extrude_1_tool.part, mode=Mode.SUBTRACT)


with BuildPart() as pattern_linear_2_11_1:
    add(pattern_linear_2_11.part)

    # Вырез-Вытянуть1: cut by cut_extrude_1_tool
    add(cut_extrude_1_tool.part, mode=Mode.SUBTRACT)


with BuildPart() as pattern_linear_2_12_1:
    add(pattern_linear_2_12.part)

    # Вырез-Вытянуть1: cut by cut_extrude_1_tool
    add(cut_extrude_1_tool.part, mode=Mode.SUBTRACT)


with BuildPart() as pattern_linear_2_13_1:
    add(pattern_linear_2_13.part)

    # Вырез-Вытянуть1: cut by cut_extrude_1_tool
    add(cut_extrude_1_tool.part, mode=Mode.SUBTRACT)


with BuildPart() as pattern_linear_2_14_1:
    add(pattern_linear_2_14.part)

    # Вырез-Вытянуть1: cut by cut_extrude_1_tool
    add(cut_extrude_1_tool.part, mode=Mode.SUBTRACT)


with BuildPart() as pattern_linear_2_15_1:
    add(pattern_linear_2_15.part)

    # Вырез-Вытянуть1: cut by cut_extrude_1_tool
    add(cut_extrude_1_tool.part, mode=Mode.SUBTRACT)


with BuildPart() as pattern_linear_2_16_1:
    add(pattern_linear_2_16.part)

    # Вырез-Вытянуть1: cut by cut_extrude_1_tool
    add(cut_extrude_1_tool.part, mode=Mode.SUBTRACT)


solid = Compound([part_1.part, pattern_linear_1_1_1.part, pattern_linear_1_2_1.part, pattern_linear_1_3_1.part, pattern_linear_1_4_1.part, pattern_linear_1_5_1.part, pattern_linear_1_6_1.part, pattern_linear_1_7_1.part, pattern_linear_1_8_1.part, pattern_linear_1_9_1.part, pattern_linear_1_10_1.part, body_12_1.part, body_13_1.part, body_14_1.part, body_15_1.part, body_16_1.part, body_17_1.part, body_18_1.part, body_19_1.part, body_20_1.part, body_21_1.part, body_22_1.part, pattern_linear_2_1_1.part, pattern_linear_2_2_1.part, pattern_linear_2_3_1.part, pattern_linear_2_4_1.part, pattern_linear_2_5_1.part, pattern_linear_2_6_1.part, pattern_linear_2_7_1.part, pattern_linear_2_8_1.part, pattern_linear_2_9_1.part, pattern_linear_2_10_1.part, pattern_linear_2_11_1.part, pattern_linear_2_12_1.part])
